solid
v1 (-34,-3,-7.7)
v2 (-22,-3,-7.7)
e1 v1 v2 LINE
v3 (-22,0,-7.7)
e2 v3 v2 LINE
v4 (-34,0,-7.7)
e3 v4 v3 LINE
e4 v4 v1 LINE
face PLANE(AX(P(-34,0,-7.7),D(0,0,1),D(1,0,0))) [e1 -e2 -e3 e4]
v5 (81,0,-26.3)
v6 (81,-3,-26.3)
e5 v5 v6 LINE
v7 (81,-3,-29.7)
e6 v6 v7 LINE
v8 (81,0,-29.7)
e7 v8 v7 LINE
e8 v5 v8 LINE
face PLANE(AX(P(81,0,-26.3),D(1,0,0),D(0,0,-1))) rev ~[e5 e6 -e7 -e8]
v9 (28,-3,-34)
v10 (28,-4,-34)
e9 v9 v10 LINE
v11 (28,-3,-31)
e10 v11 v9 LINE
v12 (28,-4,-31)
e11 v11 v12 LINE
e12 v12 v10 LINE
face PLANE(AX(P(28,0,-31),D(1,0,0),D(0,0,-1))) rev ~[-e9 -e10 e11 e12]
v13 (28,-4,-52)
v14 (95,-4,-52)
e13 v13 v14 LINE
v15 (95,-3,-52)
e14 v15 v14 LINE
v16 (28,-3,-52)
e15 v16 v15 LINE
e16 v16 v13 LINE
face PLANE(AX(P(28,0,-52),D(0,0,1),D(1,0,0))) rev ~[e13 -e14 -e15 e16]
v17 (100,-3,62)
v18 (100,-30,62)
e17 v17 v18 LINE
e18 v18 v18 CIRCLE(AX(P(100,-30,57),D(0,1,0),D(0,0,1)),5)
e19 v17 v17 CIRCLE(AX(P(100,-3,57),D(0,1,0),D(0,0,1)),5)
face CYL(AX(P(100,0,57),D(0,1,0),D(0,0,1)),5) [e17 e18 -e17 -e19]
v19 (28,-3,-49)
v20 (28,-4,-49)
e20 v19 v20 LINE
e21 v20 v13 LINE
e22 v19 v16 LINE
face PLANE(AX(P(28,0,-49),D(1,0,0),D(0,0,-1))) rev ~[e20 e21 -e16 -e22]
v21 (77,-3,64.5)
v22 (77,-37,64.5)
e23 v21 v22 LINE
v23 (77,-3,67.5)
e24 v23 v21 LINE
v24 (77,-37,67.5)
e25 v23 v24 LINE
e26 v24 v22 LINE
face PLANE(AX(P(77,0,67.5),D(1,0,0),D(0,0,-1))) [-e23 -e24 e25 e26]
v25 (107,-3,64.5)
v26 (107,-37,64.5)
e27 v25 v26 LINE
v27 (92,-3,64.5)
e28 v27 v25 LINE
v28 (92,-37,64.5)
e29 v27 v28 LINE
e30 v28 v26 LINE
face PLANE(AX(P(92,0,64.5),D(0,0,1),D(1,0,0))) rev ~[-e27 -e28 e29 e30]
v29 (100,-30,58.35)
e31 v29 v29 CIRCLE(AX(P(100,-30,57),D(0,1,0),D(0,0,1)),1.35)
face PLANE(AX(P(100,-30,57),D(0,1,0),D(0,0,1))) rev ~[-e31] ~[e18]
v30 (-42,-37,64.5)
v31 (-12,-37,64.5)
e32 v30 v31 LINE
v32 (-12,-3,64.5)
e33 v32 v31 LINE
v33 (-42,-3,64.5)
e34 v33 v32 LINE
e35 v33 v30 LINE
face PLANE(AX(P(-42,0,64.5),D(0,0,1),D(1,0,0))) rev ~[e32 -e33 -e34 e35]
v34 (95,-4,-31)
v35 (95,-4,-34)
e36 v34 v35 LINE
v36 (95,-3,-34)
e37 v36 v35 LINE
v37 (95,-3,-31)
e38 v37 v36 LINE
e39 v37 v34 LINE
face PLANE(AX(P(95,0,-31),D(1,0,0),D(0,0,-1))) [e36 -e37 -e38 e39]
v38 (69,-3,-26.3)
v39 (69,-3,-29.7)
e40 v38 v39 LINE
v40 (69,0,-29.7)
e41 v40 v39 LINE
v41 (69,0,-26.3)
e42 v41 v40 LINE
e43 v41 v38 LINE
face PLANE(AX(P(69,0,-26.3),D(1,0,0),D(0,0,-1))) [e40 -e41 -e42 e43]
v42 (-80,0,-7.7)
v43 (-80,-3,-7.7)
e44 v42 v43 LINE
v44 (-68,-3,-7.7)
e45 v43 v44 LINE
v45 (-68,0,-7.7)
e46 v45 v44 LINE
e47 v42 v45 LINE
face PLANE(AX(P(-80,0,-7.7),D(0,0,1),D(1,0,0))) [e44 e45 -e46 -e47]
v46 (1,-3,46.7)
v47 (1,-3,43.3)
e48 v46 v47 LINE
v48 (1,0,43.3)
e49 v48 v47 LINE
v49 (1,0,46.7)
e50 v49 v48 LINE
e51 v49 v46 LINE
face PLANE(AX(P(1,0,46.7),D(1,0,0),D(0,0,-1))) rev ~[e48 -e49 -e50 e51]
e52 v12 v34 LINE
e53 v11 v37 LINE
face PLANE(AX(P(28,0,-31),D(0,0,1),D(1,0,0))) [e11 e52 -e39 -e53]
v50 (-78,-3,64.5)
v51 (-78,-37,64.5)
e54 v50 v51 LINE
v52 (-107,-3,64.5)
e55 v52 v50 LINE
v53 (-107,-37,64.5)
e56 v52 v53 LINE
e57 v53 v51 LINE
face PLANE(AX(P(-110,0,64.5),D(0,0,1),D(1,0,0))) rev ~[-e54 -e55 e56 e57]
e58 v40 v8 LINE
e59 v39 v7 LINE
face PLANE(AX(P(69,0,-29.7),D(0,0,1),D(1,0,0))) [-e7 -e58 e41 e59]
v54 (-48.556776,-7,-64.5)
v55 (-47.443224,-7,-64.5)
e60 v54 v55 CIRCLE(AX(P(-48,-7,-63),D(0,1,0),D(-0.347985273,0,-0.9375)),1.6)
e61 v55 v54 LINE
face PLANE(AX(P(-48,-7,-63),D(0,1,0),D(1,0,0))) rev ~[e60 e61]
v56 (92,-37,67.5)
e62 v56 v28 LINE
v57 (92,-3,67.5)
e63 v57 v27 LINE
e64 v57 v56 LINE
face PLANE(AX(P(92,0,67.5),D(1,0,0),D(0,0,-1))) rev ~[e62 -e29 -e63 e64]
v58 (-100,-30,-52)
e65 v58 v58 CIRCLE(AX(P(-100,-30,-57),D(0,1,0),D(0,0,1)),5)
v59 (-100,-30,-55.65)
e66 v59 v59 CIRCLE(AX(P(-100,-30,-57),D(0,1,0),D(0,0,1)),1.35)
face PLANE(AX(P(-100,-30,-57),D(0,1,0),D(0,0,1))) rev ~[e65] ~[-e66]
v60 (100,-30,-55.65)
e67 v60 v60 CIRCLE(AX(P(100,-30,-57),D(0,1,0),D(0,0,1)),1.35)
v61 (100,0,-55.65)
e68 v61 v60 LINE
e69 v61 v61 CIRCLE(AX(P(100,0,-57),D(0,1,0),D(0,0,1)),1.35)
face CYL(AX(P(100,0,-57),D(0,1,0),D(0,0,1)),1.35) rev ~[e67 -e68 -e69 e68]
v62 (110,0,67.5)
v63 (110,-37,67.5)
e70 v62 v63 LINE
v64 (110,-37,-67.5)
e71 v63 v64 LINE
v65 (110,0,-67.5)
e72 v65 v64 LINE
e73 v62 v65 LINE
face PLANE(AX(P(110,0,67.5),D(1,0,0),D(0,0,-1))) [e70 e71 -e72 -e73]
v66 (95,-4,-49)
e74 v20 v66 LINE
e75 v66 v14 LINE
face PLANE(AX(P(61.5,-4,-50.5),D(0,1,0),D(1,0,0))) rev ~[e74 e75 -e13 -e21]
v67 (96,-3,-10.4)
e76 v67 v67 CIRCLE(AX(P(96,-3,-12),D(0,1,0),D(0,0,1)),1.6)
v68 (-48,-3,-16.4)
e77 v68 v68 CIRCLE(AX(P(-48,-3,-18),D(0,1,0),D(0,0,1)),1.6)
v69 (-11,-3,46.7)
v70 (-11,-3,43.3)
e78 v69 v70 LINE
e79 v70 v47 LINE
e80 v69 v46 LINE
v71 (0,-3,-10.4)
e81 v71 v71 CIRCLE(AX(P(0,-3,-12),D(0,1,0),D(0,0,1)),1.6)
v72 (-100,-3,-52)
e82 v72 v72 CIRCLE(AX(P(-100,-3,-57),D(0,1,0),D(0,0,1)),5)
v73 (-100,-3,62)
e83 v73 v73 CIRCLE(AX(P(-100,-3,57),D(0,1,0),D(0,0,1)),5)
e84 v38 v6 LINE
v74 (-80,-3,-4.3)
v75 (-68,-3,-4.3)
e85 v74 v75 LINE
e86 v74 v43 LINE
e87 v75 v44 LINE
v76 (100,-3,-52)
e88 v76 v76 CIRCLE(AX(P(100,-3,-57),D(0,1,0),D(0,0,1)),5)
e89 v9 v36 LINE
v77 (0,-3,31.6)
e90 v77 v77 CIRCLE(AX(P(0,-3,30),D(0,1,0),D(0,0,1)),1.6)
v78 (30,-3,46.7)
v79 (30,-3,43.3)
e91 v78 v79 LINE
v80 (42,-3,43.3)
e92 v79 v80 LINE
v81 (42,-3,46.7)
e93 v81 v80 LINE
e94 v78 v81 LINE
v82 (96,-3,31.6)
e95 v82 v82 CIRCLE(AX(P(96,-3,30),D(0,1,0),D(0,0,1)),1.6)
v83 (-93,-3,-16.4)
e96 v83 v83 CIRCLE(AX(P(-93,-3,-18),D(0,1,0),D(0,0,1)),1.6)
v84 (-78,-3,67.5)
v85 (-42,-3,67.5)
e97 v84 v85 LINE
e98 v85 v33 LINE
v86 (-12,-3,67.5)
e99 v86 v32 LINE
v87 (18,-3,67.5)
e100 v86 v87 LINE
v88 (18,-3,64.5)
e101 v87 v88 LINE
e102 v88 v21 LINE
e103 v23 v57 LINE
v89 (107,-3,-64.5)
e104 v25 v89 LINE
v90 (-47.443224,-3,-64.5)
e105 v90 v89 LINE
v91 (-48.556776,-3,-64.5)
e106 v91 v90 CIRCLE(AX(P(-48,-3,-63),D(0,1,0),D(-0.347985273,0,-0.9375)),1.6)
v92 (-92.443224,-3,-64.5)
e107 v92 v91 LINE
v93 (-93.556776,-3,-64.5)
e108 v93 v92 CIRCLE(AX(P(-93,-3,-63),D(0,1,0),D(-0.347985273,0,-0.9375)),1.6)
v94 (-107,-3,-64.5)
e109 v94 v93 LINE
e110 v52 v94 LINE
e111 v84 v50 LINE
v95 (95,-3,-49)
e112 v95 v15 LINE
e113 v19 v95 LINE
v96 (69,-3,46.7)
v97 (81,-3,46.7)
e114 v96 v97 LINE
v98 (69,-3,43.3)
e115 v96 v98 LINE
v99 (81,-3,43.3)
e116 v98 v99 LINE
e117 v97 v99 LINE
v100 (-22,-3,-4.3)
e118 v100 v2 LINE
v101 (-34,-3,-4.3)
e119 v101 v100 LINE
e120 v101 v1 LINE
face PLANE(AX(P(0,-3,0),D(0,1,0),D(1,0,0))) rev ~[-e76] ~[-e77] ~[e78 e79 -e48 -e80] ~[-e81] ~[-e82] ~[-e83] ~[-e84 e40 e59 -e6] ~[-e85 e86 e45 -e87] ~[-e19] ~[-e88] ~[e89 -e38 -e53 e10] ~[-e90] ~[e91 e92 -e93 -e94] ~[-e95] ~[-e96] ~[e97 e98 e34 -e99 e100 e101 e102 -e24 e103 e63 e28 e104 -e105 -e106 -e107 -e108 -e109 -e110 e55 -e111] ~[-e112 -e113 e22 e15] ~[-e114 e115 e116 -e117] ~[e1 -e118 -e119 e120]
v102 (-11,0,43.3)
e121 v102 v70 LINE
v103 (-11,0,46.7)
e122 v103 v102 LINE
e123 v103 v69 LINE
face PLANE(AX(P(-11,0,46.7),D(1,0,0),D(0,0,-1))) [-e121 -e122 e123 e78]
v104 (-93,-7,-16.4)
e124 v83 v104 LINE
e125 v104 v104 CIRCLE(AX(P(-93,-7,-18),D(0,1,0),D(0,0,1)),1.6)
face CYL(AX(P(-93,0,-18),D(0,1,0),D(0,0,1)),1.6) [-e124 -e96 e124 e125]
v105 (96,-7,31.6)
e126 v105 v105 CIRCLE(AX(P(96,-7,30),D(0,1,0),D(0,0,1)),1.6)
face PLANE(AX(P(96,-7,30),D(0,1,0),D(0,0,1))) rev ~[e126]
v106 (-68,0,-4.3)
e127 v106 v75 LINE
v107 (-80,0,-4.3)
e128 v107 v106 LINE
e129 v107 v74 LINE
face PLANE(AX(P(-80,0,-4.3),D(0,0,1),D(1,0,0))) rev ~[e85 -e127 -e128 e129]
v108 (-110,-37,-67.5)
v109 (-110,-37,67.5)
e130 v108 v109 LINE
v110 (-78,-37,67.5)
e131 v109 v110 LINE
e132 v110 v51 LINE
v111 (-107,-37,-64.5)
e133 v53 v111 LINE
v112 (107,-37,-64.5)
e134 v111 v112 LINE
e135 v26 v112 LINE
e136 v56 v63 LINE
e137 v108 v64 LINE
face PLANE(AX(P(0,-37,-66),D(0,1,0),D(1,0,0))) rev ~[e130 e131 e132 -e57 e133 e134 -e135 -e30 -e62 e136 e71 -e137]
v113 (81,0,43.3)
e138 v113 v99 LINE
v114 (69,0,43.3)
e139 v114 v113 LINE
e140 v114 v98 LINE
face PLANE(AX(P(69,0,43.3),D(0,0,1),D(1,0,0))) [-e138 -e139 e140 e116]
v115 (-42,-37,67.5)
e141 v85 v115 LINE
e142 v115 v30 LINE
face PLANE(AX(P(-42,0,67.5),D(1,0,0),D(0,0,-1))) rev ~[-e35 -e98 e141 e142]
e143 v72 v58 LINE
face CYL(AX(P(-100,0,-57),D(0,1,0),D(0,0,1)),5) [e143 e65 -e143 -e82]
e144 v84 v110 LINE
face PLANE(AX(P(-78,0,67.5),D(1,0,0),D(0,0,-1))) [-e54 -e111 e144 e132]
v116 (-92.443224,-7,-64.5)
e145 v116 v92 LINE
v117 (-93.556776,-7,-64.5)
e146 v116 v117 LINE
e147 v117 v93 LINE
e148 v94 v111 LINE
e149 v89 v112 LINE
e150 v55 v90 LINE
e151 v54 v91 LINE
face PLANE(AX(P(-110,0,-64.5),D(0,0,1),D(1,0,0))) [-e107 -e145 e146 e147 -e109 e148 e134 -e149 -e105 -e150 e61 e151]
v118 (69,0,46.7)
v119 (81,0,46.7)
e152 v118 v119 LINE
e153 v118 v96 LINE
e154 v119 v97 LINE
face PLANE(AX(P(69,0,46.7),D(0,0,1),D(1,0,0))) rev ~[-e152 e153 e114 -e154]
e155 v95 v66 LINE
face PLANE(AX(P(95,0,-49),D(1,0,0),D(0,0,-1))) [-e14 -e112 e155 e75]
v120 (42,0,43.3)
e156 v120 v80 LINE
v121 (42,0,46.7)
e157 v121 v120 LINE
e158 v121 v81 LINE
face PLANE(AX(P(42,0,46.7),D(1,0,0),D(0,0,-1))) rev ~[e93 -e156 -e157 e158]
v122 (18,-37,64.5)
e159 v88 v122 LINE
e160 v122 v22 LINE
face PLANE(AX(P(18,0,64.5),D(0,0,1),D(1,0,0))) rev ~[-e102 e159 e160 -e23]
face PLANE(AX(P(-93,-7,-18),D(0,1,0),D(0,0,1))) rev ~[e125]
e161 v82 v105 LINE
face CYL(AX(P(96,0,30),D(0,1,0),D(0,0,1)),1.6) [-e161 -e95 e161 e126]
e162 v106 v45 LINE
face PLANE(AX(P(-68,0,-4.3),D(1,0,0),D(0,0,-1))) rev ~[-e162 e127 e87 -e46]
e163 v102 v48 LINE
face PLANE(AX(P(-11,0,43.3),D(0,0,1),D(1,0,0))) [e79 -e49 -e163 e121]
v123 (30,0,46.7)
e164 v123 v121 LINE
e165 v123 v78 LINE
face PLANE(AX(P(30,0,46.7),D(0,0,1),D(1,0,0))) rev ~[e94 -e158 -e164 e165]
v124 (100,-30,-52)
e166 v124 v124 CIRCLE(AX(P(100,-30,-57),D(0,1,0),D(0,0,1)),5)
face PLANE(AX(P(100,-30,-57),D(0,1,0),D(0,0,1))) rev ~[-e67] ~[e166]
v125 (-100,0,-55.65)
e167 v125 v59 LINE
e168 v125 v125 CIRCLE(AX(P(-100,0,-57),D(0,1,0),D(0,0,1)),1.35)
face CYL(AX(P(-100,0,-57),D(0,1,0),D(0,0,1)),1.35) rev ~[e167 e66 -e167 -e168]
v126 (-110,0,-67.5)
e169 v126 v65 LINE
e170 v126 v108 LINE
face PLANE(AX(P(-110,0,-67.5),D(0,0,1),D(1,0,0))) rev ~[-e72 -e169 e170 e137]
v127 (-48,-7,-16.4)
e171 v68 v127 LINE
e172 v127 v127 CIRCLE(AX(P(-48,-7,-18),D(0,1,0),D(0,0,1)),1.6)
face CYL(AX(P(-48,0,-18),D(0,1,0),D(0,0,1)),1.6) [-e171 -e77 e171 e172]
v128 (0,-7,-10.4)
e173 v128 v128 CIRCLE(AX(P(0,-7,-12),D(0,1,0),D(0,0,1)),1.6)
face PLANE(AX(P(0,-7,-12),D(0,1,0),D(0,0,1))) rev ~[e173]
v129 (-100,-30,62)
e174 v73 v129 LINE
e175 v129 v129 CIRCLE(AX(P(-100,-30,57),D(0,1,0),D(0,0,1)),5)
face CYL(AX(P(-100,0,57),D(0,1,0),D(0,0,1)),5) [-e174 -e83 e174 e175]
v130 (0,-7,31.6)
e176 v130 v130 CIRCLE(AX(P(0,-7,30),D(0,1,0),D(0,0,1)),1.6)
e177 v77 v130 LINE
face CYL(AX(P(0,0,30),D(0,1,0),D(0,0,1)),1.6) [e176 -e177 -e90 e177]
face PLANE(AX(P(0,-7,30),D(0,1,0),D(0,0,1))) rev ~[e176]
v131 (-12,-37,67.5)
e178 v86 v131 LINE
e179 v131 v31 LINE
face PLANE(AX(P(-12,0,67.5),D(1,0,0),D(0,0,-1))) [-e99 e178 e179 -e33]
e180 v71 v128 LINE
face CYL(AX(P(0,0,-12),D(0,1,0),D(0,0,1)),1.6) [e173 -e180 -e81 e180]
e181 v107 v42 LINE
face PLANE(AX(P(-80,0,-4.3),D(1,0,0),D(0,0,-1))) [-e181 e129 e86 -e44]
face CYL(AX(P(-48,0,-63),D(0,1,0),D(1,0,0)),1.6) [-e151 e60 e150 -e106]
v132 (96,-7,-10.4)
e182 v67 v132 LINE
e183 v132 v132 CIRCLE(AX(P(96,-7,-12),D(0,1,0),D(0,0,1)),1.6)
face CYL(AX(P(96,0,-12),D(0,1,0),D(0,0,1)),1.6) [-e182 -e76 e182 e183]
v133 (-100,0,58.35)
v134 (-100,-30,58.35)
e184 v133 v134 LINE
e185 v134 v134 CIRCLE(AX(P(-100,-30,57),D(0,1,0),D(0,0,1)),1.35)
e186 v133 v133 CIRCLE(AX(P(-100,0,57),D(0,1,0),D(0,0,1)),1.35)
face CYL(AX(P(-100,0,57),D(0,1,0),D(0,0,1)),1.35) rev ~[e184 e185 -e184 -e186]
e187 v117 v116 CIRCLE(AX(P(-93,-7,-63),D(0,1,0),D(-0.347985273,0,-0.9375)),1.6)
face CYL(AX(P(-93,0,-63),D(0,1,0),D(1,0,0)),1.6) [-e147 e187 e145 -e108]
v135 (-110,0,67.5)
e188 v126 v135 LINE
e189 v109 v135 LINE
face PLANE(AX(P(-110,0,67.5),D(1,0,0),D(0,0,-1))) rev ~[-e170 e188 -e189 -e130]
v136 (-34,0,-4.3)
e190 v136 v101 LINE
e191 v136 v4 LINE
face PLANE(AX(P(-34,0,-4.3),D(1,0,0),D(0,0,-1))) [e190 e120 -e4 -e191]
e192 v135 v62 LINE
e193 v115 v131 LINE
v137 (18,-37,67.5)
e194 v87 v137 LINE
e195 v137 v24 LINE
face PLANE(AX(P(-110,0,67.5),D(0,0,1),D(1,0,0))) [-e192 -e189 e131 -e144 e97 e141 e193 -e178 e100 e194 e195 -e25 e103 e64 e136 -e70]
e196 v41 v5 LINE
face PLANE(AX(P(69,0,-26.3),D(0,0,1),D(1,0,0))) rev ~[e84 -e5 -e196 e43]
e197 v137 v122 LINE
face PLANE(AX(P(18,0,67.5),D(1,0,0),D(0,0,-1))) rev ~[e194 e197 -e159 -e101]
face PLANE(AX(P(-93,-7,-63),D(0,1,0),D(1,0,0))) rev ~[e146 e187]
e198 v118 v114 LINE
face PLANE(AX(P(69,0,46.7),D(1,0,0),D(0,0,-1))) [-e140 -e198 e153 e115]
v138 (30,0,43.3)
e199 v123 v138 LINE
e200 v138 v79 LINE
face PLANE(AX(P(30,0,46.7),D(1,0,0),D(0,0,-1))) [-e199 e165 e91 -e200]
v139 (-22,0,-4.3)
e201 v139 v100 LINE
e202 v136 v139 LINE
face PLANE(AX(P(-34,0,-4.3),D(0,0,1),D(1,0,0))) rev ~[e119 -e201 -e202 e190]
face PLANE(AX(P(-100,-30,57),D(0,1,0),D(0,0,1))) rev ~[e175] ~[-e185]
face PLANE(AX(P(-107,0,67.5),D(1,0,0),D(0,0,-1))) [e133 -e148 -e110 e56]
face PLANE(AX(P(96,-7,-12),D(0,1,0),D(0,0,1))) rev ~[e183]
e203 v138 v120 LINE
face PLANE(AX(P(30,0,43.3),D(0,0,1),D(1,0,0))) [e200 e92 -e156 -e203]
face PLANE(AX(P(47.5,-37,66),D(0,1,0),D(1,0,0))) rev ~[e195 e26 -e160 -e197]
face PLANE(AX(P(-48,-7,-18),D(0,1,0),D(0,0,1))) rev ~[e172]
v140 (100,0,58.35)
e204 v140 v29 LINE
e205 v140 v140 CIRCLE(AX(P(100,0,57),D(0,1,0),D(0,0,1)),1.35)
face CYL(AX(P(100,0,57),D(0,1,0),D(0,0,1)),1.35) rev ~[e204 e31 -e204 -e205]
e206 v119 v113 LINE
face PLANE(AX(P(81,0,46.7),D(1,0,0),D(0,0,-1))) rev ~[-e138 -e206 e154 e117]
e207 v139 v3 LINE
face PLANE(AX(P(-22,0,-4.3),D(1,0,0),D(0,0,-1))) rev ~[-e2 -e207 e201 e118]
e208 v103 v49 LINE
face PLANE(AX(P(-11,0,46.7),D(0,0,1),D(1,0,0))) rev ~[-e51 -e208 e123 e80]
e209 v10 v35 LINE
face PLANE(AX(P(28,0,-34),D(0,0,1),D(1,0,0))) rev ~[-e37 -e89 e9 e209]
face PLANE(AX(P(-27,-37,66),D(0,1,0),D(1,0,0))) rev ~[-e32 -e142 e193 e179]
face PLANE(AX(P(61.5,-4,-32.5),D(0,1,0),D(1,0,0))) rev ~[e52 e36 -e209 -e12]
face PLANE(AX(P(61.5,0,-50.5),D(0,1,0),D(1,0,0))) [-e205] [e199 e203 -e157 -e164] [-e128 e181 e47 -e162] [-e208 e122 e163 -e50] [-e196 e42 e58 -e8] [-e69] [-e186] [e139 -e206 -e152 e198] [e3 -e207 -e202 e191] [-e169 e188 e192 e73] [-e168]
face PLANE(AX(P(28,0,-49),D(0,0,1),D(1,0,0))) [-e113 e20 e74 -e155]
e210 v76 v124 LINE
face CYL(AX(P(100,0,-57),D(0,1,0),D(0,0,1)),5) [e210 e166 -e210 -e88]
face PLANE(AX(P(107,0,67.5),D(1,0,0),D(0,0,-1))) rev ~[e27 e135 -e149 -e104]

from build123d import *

# Parameters (mm, degrees)
SKETCH_1_W                     = 220
SKETCH_1_H                     = 135
BASE_FLOOR_3MM_DEPTH           = 3
SKETCH_2_W                     = 220
SKETCH_2_H                     = 3
BACK_WALL_DEPTH                = 37
SKETCH_3_W                     = 3
SKETCH_3_H                     = 132
LEFT_WALL_DEPTH                = 37
SKETCH_4_W                     = 3
SKETCH_4_H                     = 132
RIGHT_WALL_DEPTH               = 37
SKETCH_5_W                     = 32
SKETCH_5_H                     = 3
FRONT_LEFT_WALL_DEPTH          = 37
SKETCH_6_W                     = 30
SKETCH_6_H                     = 3
FRONT_CAMERA_BRIDGE_DEPTH      = 37
SKETCH_7_W                     = 59
SKETCH_7_H                     = 3
FRONT_SR04_BRIDGE_DEPTH        = 37
SKETCH_8_W                     = 18
SKETCH_8_H                     = 3
FRONT_RIGHT_WALL_DEPTH         = 37
SKETCH_9_R                     = 5
LID_BOSS_1_DEPTH               = 30
SKETCH_10_R                    = 1.35
LID_BOSS_1_PILOT_DEPTH         = 34
SKETCH_11_R                    = 5
LID_BOSS_2_DEPTH               = 30
SKETCH_12_R                    = 1.35
LID_BOSS_2_PILOT_DEPTH         = 34
SKETCH_13_R                    = 5
LID_BOSS_3_DEPTH               = 30
SKETCH_14_R                    = 1.35
LID_BOSS_3_PILOT_DEPTH         = 34
SKETCH_15_R                    = 5
LID_BOSS_4_DEPTH               = 30
SKETCH_16_R                    = 1.35
LID_BOSS_4_PILOT_DEPTH         = 34
SKETCH_17_R                    = 1.6
P4_NANO_PEG_1_DEPTH            = 7
SKETCH_18_R                    = 1.6
P4_NANO_PEG_2_DEPTH            = 7
SKETCH_19_R                    = 1.6
P4_NANO_PEG_3_DEPTH            = 7
SKETCH_20_R                    = 1.6
P4_NANO_PEG_4_DEPTH            = 7
SKETCH_21_R                    = 1.6
MEGA_PEG_1_DEPTH               = 7
SKETCH_22_R                    = 1.6
MEGA_PEG_2_DEPTH               = 7
SKETCH_23_R                    = 1.6
MEGA_PEG_3_DEPTH               = 7
SKETCH_24_R                    = 1.6
MEGA_PEG_4_DEPTH               = 7
SKETCH_25_W                    = 12
SKETCH_25_H                    = 3.4
CABLE_TIE_SLOT_1_DEPTH         = 4
SKETCH_26_W                    = 12
SKETCH_26_H                    = 3.4
CABLE_TIE_SLOT_2_DEPTH         = 4
SKETCH_27_W                    = 12
SKETCH_27_H                    = 3.4
CABLE_TIE_SLOT_3_DEPTH         = 4
SKETCH_28_W                    = 12
SKETCH_28_H                    = 3.4
CABLE_TIE_SLOT_4_DEPTH         = 4
SKETCH_29_W                    = 12
SKETCH_29_H                    = 3.4
CABLE_TIE_SLOT_5_DEPTH         = 4
SKETCH_30_W                    = 12
SKETCH_30_H                    = 3.4
CABLE_TIE_SLOT_6_DEPTH         = 4
SKETCH_31_W                    = 67
SKETCH_31_H                    = 3
ADJUSTABLE_SENSOR_RAIL_1_DEPTH = 4
SKETCH_32_W                    = 67
SKETCH_32_H                    = 3
ADJUSTABLE_SENSOR_RAIL_2_DEPTH = 4


with BuildPart() as part:
    # 草图1 → Base_Floor_3mm (new body)
    with BuildSketch(Plane(origin=(0, 0, 0), x_dir=(1, 0, 0), z_dir=(0, 1, 0))):
        Rectangle(SKETCH_1_W, SKETCH_1_H)
    extrude(amount=-BASE_FLOOR_3MM_DEPTH)

    # 草图2 → Back_Wall (add)
    with BuildSketch(Plane(origin=(0, 0, 0), x_dir=(1, 0, 0), z_dir=(0, 1, 0))):
        with Locations((0, 66)):
            Rectangle(SKETCH_2_W, SKETCH_2_H)
    extrude(amount=-BACK_WALL_DEPTH)

    # 草图3 → Left_Wall (add)
    with BuildSketch(Plane(origin=(0, 0, 0), x_dir=(1, 0, 0), z_dir=(0, 1, 0))):
        with Locations((-108.5, -1.5)):
            Rectangle(SKETCH_3_W, SKETCH_3_H)
    extrude(amount=-LEFT_WALL_DEPTH)

    # 草图4 → Right_Wall (add)
    with BuildSketch(Plane(origin=(0, 0, 0), x_dir=(1, 0, 0), z_dir=(0, 1, 0))):
        with Locations((108.5, -1.5)):
            Rectangle(SKETCH_4_W, SKETCH_4_H)
    extrude(amount=-RIGHT_WALL_DEPTH)

    # 草图5 → Front_Left_Wall (add)
    with BuildSketch(Plane(origin=(0, 0, 0), x_dir=(1, 0, 0), z_dir=(0, 1, 0))):
        with Locations((-94, -66)):
            Rectangle(SKETCH_5_W, SKETCH_5_H)
    extrude(amount=-FRONT_LEFT_WALL_DEPTH)

    # 草图6 → Front_Camera_Bridge (add)
    with BuildSketch(Plane(origin=(0, 0, 0), x_dir=(1, 0, 0), z_dir=(0, 1, 0))):
        with Locations((-27, -66)):
            Rectangle(SKETCH_6_W, SKETCH_6_H)
    extrude(amount=-FRONT_CAMERA_BRIDGE_DEPTH)

    # 草图7 → Front_SR04_Bridge (add)
    with BuildSketch(Plane(origin=(0, 0, 0), x_dir=(1, 0, 0), z_dir=(0, 1, 0))):
        with Locations((47.5, -66)):
            Rectangle(SKETCH_7_W, SKETCH_7_H)
    extrude(amount=-FRONT_SR04_BRIDGE_DEPTH)

    # 草图8 → Front_Right_Wall (add)
    with BuildSketch(Plane(origin=(0, 0, 0), x_dir=(1, 0, 0), z_dir=(0, 1, 0))):
        with Locations((101, -66)):
            Rectangle(SKETCH_8_W, SKETCH_8_H)
    extrude(amount=-FRONT_RIGHT_WALL_DEPTH)

    # 草图9 → Lid_Boss_1 (add)
    with BuildSketch(Plane(origin=(0, 0, 0), x_dir=(1, 0, 0), z_dir=(0, 1, 0))):
        with Locations(Location((-100, -57, 0), (0, 0, 270))):
            Circle(SKETCH_9_R)
    extrude(amount=-LID_BOSS_1_DEPTH)

    # 草图10 → Lid_Boss_1_Pilot (cut)
    with BuildSketch(Plane(origin=(0, 0, 0), x_dir=(1, 0, 0), z_dir=(0, 1, 0))):
        with Locations(Location((-100, -57, 0), (0, 0, 270))):
            Circle(SKETCH_10_R)
    extrude(amount=-LID_BOSS_1_PILOT_DEPTH, mode=Mode.SUBTRACT)

    # 草图11 → Lid_Boss_2 (add)
    with BuildSketch(Plane(origin=(0, 0, 0), x_dir=(1, 0, 0), z_dir=(0, 1, 0))):
        with Locations(Location((100, -57, 0), (0, 0, 270))):
            Circle(SKETCH_11_R)
    extrude(amount=-LID_BOSS_2_DEPTH)

    # 草图12 → Lid_Boss_2_Pilot (cut)
    with BuildSketch(Plane(origin=(0, 0, 0), x_dir=(1, 0, 0), z_dir=(0, 1, 0))):
        with Locations(Location((100, -57, 0), (0, 0, 270))):
            Circle(SKETCH_12_R)
    extrude(amount=-LID_BOSS_2_PILOT_DEPTH, mode=Mode.SUBTRACT)

    # 草图13 → Lid_Boss_3 (add)
    with BuildSketch(Plane(origin=(0, 0, 0), x_dir=(1, 0, 0), z_dir=(0, 1, 0))):
        with Locations(Location((-100, 57, 0), (0, 0, 270))):
            Circle(SKETCH_13_R)
    extrude(amount=-LID_BOSS_3_DEPTH)

    # 草图14 → Lid_Boss_3_Pilot (cut)
    with BuildSketch(Plane(origin=(0, 0, 0), x_dir=(1, 0, 0), z_dir=(0, 1, 0))):
        with Locations(Location((-100, 57, 0), (0, 0, 270))):
            Circle(SKETCH_14_R)
    extrude(amount=-LID_BOSS_3_PILOT_DEPTH, mode=Mode.SUBTRACT)

    # 草图15 → Lid_Boss_4 (add)
    with BuildSketch(Plane(origin=(0, 0, 0), x_dir=(1, 0, 0), z_dir=(0, 1, 0))):
        with Locations(Location((100, 57, 0), (0, 0, 270))):
            Circle(SKETCH_15_R)
    extrude(amount=-LID_BOSS_4_DEPTH)

    # 草图16 → Lid_Boss_4_Pilot (cut)
    with BuildSketch(Plane(origin=(0, 0, 0), x_dir=(1, 0, 0), z_dir=(0, 1, 0))):
        with Locations(Location((100, 57, 0), (0, 0, 270))):
            Circle(SKETCH_16_R)
    extrude(amount=-LID_BOSS_4_PILOT_DEPTH, mode=Mode.SUBTRACT)

    # 草图17 → P4_NANO_Peg_1 (add)
    with BuildSketch(Plane(origin=(0, 0, 0), x_dir=(1, 0, 0), z_dir=(0, 1, 0))):
        with Locations(Location((-93, 18, 0), (0, 0, 270))):
            Circle(SKETCH_17_R)
    extrude(amount=-P4_NANO_PEG_1_DEPTH)

    # 草图18 → P4_NANO_Peg_2 (add)
    with BuildSketch(Plane(origin=(0, 0, 0), x_dir=(1, 0, 0), z_dir=(0, 1, 0))):
        with Locations(Location((-48, 18, 0), (0, 0, 270))):
            Circle(SKETCH_18_R)
    extrude(amount=-P4_NANO_PEG_2_DEPTH)

    # 草图19 → P4_NANO_Peg_3 (add)
    with BuildSketch(Plane(origin=(0, 0, 0), x_dir=(1, 0, 0), z_dir=(0, 1, 0))):
        with Locations((-93, 63)):
            Circle(SKETCH_19_R)
    extrude(amount=-P4_NANO_PEG_3_DEPTH)

    # 草图20 → P4_NANO_Peg_4 (add)
    with BuildSketch(Plane(origin=(0, 0, 0), x_dir=(1, 0, 0), z_dir=(0, 1, 0))):
        with Locations((-48, 63)):
            Circle(SKETCH_20_R)
    extrude(amount=-P4_NANO_PEG_4_DEPTH)

    # 草图21 → Mega_Peg_1 (add)
    with BuildSketch(Plane(origin=(0, 0, 0), x_dir=(1, 0, 0), z_dir=(0, 1, 0))):
        with Locations(Location((0, -30, 0), (0, 0, 270))):
            Circle(SKETCH_21_R)
    extrude(amount=-MEGA_PEG_1_DEPTH)

    # 草图22 → Mega_Peg_2 (add)
    with BuildSketch(Plane(origin=(0, 0, 0), x_dir=(1, 0, 0), z_dir=(0, 1, 0))):
        with Locations(Location((96, -30, 0), (0, 0, 270))):
            Circle(SKETCH_22_R)
    extrude(amount=-MEGA_PEG_2_DEPTH)

    # 草图23 → Mega_Peg_3 (add)
    with BuildSketch(Plane(origin=(0, 0, 0), x_dir=(1, 0, 0), z_dir=(0, 1, 0))):
        with Locations(Location((0, 12, 0), (0, 0, 270))):
            Circle(SKETCH_23_R)
    extrude(amount=-MEGA_PEG_3_DEPTH)

    # 草图24 → Mega_Peg_4 (add)
    with BuildSketch(Plane(origin=(0, 0, 0), x_dir=(1, 0, 0), z_dir=(0, 1, 0))):
        with Locations(Location((96, 12, 0), (0, 0, 270))):
            Circle(SKETCH_24_R)
    extrude(amount=-MEGA_PEG_4_DEPTH)

    # 草图25 → Cable_Tie_Slot_1 (cut)
    with BuildSketch(Plane(origin=(0, 0, 0), x_dir=(1, 0, 0), z_dir=(0, 1, 0))):
        with Locations((-74, 6)):
            Rectangle(SKETCH_25_W, SKETCH_25_H)
    extrude(amount=-CABLE_TIE_SLOT_1_DEPTH, mode=Mode.SUBTRACT)

    # 草图26 → Cable_Tie_Slot_2 (cut)
    with BuildSketch(Plane(origin=(0, 0, 0), x_dir=(1, 0, 0), z_dir=(0, 1, 0))):
        with Locations((-28, 6)):
            Rectangle(SKETCH_26_W, SKETCH_26_H)
    extrude(amount=-CABLE_TIE_SLOT_2_DEPTH, mode=Mode.SUBTRACT)

    # 草图27 → Cable_Tie_Slot_3 (cut)
    with BuildSketch(Plane(origin=(0, 0, 0), x_dir=(1, 0, 0), z_dir=(0, 1, 0))):
        with Locations((-5, -45)):
            Rectangle(SKETCH_27_W, SKETCH_27_H)
    extrude(amount=-CABLE_TIE_SLOT_3_DEPTH, mode=Mode.SUBTRACT)

    # 草图28 → Cable_Tie_Slot_4 (cut)
    with BuildSketch(Plane(origin=(0, 0, 0), x_dir=(1, 0, 0), z_dir=(0, 1, 0))):
        with Locations((36, -45)):
            Rectangle(SKETCH_28_W, SKETCH_28_H)
    extrude(amount=-CABLE_TIE_SLOT_4_DEPTH, mode=Mode.SUBTRACT)

    # 草图29 → Cable_Tie_Slot_5 (cut)
    with BuildSketch(Plane(origin=(0, 0, 0), x_dir=(1, 0, 0), z_dir=(0, 1, 0))):
        with Locations((75, -45)):
            Rectangle(SKETCH_29_W, SKETCH_29_H)
    extrude(amount=-CABLE_TIE_SLOT_5_DEPTH, mode=Mode.SUBTRACT)

    # 草图30 → Cable_Tie_Slot_6 (cut)
    with BuildSketch(Plane(origin=(0, 0, 0), x_dir=(1, 0, 0), z_dir=(0, 1, 0))):
        with Locations((75, 28)):
            Rectangle(SKETCH_30_W, SKETCH_30_H)
    extrude(amount=-CABLE_TIE_SLOT_6_DEPTH, mode=Mode.SUBTRACT)

    # 草图31 → Adjustable_Sensor_Rail_1 (add)
    with BuildSketch(Plane(origin=(0, 0, 0), x_dir=(1, 0, 0), z_dir=(0, 1, 0))):
        with Locations((61.5, 32.5)):
            Rectangle(SKETCH_31_W, SKETCH_31_H)
    extrude(amount=-ADJUSTABLE_SENSOR_RAIL_1_DEPTH)

    # 草图32 → Adjustable_Sensor_Rail_2 (add)
    with BuildSketch(Plane(origin=(0, 0, 0), x_dir=(1, 0, 0), z_dir=(0, 1, 0))):
        with Locations((61.5, 50.5)):
            Rectangle(SKETCH_32_W, SKETCH_32_H)
    extrude(amount=-ADJUSTABLE_SENSOR_RAIL_2_DEPTH)


solid = part.part
